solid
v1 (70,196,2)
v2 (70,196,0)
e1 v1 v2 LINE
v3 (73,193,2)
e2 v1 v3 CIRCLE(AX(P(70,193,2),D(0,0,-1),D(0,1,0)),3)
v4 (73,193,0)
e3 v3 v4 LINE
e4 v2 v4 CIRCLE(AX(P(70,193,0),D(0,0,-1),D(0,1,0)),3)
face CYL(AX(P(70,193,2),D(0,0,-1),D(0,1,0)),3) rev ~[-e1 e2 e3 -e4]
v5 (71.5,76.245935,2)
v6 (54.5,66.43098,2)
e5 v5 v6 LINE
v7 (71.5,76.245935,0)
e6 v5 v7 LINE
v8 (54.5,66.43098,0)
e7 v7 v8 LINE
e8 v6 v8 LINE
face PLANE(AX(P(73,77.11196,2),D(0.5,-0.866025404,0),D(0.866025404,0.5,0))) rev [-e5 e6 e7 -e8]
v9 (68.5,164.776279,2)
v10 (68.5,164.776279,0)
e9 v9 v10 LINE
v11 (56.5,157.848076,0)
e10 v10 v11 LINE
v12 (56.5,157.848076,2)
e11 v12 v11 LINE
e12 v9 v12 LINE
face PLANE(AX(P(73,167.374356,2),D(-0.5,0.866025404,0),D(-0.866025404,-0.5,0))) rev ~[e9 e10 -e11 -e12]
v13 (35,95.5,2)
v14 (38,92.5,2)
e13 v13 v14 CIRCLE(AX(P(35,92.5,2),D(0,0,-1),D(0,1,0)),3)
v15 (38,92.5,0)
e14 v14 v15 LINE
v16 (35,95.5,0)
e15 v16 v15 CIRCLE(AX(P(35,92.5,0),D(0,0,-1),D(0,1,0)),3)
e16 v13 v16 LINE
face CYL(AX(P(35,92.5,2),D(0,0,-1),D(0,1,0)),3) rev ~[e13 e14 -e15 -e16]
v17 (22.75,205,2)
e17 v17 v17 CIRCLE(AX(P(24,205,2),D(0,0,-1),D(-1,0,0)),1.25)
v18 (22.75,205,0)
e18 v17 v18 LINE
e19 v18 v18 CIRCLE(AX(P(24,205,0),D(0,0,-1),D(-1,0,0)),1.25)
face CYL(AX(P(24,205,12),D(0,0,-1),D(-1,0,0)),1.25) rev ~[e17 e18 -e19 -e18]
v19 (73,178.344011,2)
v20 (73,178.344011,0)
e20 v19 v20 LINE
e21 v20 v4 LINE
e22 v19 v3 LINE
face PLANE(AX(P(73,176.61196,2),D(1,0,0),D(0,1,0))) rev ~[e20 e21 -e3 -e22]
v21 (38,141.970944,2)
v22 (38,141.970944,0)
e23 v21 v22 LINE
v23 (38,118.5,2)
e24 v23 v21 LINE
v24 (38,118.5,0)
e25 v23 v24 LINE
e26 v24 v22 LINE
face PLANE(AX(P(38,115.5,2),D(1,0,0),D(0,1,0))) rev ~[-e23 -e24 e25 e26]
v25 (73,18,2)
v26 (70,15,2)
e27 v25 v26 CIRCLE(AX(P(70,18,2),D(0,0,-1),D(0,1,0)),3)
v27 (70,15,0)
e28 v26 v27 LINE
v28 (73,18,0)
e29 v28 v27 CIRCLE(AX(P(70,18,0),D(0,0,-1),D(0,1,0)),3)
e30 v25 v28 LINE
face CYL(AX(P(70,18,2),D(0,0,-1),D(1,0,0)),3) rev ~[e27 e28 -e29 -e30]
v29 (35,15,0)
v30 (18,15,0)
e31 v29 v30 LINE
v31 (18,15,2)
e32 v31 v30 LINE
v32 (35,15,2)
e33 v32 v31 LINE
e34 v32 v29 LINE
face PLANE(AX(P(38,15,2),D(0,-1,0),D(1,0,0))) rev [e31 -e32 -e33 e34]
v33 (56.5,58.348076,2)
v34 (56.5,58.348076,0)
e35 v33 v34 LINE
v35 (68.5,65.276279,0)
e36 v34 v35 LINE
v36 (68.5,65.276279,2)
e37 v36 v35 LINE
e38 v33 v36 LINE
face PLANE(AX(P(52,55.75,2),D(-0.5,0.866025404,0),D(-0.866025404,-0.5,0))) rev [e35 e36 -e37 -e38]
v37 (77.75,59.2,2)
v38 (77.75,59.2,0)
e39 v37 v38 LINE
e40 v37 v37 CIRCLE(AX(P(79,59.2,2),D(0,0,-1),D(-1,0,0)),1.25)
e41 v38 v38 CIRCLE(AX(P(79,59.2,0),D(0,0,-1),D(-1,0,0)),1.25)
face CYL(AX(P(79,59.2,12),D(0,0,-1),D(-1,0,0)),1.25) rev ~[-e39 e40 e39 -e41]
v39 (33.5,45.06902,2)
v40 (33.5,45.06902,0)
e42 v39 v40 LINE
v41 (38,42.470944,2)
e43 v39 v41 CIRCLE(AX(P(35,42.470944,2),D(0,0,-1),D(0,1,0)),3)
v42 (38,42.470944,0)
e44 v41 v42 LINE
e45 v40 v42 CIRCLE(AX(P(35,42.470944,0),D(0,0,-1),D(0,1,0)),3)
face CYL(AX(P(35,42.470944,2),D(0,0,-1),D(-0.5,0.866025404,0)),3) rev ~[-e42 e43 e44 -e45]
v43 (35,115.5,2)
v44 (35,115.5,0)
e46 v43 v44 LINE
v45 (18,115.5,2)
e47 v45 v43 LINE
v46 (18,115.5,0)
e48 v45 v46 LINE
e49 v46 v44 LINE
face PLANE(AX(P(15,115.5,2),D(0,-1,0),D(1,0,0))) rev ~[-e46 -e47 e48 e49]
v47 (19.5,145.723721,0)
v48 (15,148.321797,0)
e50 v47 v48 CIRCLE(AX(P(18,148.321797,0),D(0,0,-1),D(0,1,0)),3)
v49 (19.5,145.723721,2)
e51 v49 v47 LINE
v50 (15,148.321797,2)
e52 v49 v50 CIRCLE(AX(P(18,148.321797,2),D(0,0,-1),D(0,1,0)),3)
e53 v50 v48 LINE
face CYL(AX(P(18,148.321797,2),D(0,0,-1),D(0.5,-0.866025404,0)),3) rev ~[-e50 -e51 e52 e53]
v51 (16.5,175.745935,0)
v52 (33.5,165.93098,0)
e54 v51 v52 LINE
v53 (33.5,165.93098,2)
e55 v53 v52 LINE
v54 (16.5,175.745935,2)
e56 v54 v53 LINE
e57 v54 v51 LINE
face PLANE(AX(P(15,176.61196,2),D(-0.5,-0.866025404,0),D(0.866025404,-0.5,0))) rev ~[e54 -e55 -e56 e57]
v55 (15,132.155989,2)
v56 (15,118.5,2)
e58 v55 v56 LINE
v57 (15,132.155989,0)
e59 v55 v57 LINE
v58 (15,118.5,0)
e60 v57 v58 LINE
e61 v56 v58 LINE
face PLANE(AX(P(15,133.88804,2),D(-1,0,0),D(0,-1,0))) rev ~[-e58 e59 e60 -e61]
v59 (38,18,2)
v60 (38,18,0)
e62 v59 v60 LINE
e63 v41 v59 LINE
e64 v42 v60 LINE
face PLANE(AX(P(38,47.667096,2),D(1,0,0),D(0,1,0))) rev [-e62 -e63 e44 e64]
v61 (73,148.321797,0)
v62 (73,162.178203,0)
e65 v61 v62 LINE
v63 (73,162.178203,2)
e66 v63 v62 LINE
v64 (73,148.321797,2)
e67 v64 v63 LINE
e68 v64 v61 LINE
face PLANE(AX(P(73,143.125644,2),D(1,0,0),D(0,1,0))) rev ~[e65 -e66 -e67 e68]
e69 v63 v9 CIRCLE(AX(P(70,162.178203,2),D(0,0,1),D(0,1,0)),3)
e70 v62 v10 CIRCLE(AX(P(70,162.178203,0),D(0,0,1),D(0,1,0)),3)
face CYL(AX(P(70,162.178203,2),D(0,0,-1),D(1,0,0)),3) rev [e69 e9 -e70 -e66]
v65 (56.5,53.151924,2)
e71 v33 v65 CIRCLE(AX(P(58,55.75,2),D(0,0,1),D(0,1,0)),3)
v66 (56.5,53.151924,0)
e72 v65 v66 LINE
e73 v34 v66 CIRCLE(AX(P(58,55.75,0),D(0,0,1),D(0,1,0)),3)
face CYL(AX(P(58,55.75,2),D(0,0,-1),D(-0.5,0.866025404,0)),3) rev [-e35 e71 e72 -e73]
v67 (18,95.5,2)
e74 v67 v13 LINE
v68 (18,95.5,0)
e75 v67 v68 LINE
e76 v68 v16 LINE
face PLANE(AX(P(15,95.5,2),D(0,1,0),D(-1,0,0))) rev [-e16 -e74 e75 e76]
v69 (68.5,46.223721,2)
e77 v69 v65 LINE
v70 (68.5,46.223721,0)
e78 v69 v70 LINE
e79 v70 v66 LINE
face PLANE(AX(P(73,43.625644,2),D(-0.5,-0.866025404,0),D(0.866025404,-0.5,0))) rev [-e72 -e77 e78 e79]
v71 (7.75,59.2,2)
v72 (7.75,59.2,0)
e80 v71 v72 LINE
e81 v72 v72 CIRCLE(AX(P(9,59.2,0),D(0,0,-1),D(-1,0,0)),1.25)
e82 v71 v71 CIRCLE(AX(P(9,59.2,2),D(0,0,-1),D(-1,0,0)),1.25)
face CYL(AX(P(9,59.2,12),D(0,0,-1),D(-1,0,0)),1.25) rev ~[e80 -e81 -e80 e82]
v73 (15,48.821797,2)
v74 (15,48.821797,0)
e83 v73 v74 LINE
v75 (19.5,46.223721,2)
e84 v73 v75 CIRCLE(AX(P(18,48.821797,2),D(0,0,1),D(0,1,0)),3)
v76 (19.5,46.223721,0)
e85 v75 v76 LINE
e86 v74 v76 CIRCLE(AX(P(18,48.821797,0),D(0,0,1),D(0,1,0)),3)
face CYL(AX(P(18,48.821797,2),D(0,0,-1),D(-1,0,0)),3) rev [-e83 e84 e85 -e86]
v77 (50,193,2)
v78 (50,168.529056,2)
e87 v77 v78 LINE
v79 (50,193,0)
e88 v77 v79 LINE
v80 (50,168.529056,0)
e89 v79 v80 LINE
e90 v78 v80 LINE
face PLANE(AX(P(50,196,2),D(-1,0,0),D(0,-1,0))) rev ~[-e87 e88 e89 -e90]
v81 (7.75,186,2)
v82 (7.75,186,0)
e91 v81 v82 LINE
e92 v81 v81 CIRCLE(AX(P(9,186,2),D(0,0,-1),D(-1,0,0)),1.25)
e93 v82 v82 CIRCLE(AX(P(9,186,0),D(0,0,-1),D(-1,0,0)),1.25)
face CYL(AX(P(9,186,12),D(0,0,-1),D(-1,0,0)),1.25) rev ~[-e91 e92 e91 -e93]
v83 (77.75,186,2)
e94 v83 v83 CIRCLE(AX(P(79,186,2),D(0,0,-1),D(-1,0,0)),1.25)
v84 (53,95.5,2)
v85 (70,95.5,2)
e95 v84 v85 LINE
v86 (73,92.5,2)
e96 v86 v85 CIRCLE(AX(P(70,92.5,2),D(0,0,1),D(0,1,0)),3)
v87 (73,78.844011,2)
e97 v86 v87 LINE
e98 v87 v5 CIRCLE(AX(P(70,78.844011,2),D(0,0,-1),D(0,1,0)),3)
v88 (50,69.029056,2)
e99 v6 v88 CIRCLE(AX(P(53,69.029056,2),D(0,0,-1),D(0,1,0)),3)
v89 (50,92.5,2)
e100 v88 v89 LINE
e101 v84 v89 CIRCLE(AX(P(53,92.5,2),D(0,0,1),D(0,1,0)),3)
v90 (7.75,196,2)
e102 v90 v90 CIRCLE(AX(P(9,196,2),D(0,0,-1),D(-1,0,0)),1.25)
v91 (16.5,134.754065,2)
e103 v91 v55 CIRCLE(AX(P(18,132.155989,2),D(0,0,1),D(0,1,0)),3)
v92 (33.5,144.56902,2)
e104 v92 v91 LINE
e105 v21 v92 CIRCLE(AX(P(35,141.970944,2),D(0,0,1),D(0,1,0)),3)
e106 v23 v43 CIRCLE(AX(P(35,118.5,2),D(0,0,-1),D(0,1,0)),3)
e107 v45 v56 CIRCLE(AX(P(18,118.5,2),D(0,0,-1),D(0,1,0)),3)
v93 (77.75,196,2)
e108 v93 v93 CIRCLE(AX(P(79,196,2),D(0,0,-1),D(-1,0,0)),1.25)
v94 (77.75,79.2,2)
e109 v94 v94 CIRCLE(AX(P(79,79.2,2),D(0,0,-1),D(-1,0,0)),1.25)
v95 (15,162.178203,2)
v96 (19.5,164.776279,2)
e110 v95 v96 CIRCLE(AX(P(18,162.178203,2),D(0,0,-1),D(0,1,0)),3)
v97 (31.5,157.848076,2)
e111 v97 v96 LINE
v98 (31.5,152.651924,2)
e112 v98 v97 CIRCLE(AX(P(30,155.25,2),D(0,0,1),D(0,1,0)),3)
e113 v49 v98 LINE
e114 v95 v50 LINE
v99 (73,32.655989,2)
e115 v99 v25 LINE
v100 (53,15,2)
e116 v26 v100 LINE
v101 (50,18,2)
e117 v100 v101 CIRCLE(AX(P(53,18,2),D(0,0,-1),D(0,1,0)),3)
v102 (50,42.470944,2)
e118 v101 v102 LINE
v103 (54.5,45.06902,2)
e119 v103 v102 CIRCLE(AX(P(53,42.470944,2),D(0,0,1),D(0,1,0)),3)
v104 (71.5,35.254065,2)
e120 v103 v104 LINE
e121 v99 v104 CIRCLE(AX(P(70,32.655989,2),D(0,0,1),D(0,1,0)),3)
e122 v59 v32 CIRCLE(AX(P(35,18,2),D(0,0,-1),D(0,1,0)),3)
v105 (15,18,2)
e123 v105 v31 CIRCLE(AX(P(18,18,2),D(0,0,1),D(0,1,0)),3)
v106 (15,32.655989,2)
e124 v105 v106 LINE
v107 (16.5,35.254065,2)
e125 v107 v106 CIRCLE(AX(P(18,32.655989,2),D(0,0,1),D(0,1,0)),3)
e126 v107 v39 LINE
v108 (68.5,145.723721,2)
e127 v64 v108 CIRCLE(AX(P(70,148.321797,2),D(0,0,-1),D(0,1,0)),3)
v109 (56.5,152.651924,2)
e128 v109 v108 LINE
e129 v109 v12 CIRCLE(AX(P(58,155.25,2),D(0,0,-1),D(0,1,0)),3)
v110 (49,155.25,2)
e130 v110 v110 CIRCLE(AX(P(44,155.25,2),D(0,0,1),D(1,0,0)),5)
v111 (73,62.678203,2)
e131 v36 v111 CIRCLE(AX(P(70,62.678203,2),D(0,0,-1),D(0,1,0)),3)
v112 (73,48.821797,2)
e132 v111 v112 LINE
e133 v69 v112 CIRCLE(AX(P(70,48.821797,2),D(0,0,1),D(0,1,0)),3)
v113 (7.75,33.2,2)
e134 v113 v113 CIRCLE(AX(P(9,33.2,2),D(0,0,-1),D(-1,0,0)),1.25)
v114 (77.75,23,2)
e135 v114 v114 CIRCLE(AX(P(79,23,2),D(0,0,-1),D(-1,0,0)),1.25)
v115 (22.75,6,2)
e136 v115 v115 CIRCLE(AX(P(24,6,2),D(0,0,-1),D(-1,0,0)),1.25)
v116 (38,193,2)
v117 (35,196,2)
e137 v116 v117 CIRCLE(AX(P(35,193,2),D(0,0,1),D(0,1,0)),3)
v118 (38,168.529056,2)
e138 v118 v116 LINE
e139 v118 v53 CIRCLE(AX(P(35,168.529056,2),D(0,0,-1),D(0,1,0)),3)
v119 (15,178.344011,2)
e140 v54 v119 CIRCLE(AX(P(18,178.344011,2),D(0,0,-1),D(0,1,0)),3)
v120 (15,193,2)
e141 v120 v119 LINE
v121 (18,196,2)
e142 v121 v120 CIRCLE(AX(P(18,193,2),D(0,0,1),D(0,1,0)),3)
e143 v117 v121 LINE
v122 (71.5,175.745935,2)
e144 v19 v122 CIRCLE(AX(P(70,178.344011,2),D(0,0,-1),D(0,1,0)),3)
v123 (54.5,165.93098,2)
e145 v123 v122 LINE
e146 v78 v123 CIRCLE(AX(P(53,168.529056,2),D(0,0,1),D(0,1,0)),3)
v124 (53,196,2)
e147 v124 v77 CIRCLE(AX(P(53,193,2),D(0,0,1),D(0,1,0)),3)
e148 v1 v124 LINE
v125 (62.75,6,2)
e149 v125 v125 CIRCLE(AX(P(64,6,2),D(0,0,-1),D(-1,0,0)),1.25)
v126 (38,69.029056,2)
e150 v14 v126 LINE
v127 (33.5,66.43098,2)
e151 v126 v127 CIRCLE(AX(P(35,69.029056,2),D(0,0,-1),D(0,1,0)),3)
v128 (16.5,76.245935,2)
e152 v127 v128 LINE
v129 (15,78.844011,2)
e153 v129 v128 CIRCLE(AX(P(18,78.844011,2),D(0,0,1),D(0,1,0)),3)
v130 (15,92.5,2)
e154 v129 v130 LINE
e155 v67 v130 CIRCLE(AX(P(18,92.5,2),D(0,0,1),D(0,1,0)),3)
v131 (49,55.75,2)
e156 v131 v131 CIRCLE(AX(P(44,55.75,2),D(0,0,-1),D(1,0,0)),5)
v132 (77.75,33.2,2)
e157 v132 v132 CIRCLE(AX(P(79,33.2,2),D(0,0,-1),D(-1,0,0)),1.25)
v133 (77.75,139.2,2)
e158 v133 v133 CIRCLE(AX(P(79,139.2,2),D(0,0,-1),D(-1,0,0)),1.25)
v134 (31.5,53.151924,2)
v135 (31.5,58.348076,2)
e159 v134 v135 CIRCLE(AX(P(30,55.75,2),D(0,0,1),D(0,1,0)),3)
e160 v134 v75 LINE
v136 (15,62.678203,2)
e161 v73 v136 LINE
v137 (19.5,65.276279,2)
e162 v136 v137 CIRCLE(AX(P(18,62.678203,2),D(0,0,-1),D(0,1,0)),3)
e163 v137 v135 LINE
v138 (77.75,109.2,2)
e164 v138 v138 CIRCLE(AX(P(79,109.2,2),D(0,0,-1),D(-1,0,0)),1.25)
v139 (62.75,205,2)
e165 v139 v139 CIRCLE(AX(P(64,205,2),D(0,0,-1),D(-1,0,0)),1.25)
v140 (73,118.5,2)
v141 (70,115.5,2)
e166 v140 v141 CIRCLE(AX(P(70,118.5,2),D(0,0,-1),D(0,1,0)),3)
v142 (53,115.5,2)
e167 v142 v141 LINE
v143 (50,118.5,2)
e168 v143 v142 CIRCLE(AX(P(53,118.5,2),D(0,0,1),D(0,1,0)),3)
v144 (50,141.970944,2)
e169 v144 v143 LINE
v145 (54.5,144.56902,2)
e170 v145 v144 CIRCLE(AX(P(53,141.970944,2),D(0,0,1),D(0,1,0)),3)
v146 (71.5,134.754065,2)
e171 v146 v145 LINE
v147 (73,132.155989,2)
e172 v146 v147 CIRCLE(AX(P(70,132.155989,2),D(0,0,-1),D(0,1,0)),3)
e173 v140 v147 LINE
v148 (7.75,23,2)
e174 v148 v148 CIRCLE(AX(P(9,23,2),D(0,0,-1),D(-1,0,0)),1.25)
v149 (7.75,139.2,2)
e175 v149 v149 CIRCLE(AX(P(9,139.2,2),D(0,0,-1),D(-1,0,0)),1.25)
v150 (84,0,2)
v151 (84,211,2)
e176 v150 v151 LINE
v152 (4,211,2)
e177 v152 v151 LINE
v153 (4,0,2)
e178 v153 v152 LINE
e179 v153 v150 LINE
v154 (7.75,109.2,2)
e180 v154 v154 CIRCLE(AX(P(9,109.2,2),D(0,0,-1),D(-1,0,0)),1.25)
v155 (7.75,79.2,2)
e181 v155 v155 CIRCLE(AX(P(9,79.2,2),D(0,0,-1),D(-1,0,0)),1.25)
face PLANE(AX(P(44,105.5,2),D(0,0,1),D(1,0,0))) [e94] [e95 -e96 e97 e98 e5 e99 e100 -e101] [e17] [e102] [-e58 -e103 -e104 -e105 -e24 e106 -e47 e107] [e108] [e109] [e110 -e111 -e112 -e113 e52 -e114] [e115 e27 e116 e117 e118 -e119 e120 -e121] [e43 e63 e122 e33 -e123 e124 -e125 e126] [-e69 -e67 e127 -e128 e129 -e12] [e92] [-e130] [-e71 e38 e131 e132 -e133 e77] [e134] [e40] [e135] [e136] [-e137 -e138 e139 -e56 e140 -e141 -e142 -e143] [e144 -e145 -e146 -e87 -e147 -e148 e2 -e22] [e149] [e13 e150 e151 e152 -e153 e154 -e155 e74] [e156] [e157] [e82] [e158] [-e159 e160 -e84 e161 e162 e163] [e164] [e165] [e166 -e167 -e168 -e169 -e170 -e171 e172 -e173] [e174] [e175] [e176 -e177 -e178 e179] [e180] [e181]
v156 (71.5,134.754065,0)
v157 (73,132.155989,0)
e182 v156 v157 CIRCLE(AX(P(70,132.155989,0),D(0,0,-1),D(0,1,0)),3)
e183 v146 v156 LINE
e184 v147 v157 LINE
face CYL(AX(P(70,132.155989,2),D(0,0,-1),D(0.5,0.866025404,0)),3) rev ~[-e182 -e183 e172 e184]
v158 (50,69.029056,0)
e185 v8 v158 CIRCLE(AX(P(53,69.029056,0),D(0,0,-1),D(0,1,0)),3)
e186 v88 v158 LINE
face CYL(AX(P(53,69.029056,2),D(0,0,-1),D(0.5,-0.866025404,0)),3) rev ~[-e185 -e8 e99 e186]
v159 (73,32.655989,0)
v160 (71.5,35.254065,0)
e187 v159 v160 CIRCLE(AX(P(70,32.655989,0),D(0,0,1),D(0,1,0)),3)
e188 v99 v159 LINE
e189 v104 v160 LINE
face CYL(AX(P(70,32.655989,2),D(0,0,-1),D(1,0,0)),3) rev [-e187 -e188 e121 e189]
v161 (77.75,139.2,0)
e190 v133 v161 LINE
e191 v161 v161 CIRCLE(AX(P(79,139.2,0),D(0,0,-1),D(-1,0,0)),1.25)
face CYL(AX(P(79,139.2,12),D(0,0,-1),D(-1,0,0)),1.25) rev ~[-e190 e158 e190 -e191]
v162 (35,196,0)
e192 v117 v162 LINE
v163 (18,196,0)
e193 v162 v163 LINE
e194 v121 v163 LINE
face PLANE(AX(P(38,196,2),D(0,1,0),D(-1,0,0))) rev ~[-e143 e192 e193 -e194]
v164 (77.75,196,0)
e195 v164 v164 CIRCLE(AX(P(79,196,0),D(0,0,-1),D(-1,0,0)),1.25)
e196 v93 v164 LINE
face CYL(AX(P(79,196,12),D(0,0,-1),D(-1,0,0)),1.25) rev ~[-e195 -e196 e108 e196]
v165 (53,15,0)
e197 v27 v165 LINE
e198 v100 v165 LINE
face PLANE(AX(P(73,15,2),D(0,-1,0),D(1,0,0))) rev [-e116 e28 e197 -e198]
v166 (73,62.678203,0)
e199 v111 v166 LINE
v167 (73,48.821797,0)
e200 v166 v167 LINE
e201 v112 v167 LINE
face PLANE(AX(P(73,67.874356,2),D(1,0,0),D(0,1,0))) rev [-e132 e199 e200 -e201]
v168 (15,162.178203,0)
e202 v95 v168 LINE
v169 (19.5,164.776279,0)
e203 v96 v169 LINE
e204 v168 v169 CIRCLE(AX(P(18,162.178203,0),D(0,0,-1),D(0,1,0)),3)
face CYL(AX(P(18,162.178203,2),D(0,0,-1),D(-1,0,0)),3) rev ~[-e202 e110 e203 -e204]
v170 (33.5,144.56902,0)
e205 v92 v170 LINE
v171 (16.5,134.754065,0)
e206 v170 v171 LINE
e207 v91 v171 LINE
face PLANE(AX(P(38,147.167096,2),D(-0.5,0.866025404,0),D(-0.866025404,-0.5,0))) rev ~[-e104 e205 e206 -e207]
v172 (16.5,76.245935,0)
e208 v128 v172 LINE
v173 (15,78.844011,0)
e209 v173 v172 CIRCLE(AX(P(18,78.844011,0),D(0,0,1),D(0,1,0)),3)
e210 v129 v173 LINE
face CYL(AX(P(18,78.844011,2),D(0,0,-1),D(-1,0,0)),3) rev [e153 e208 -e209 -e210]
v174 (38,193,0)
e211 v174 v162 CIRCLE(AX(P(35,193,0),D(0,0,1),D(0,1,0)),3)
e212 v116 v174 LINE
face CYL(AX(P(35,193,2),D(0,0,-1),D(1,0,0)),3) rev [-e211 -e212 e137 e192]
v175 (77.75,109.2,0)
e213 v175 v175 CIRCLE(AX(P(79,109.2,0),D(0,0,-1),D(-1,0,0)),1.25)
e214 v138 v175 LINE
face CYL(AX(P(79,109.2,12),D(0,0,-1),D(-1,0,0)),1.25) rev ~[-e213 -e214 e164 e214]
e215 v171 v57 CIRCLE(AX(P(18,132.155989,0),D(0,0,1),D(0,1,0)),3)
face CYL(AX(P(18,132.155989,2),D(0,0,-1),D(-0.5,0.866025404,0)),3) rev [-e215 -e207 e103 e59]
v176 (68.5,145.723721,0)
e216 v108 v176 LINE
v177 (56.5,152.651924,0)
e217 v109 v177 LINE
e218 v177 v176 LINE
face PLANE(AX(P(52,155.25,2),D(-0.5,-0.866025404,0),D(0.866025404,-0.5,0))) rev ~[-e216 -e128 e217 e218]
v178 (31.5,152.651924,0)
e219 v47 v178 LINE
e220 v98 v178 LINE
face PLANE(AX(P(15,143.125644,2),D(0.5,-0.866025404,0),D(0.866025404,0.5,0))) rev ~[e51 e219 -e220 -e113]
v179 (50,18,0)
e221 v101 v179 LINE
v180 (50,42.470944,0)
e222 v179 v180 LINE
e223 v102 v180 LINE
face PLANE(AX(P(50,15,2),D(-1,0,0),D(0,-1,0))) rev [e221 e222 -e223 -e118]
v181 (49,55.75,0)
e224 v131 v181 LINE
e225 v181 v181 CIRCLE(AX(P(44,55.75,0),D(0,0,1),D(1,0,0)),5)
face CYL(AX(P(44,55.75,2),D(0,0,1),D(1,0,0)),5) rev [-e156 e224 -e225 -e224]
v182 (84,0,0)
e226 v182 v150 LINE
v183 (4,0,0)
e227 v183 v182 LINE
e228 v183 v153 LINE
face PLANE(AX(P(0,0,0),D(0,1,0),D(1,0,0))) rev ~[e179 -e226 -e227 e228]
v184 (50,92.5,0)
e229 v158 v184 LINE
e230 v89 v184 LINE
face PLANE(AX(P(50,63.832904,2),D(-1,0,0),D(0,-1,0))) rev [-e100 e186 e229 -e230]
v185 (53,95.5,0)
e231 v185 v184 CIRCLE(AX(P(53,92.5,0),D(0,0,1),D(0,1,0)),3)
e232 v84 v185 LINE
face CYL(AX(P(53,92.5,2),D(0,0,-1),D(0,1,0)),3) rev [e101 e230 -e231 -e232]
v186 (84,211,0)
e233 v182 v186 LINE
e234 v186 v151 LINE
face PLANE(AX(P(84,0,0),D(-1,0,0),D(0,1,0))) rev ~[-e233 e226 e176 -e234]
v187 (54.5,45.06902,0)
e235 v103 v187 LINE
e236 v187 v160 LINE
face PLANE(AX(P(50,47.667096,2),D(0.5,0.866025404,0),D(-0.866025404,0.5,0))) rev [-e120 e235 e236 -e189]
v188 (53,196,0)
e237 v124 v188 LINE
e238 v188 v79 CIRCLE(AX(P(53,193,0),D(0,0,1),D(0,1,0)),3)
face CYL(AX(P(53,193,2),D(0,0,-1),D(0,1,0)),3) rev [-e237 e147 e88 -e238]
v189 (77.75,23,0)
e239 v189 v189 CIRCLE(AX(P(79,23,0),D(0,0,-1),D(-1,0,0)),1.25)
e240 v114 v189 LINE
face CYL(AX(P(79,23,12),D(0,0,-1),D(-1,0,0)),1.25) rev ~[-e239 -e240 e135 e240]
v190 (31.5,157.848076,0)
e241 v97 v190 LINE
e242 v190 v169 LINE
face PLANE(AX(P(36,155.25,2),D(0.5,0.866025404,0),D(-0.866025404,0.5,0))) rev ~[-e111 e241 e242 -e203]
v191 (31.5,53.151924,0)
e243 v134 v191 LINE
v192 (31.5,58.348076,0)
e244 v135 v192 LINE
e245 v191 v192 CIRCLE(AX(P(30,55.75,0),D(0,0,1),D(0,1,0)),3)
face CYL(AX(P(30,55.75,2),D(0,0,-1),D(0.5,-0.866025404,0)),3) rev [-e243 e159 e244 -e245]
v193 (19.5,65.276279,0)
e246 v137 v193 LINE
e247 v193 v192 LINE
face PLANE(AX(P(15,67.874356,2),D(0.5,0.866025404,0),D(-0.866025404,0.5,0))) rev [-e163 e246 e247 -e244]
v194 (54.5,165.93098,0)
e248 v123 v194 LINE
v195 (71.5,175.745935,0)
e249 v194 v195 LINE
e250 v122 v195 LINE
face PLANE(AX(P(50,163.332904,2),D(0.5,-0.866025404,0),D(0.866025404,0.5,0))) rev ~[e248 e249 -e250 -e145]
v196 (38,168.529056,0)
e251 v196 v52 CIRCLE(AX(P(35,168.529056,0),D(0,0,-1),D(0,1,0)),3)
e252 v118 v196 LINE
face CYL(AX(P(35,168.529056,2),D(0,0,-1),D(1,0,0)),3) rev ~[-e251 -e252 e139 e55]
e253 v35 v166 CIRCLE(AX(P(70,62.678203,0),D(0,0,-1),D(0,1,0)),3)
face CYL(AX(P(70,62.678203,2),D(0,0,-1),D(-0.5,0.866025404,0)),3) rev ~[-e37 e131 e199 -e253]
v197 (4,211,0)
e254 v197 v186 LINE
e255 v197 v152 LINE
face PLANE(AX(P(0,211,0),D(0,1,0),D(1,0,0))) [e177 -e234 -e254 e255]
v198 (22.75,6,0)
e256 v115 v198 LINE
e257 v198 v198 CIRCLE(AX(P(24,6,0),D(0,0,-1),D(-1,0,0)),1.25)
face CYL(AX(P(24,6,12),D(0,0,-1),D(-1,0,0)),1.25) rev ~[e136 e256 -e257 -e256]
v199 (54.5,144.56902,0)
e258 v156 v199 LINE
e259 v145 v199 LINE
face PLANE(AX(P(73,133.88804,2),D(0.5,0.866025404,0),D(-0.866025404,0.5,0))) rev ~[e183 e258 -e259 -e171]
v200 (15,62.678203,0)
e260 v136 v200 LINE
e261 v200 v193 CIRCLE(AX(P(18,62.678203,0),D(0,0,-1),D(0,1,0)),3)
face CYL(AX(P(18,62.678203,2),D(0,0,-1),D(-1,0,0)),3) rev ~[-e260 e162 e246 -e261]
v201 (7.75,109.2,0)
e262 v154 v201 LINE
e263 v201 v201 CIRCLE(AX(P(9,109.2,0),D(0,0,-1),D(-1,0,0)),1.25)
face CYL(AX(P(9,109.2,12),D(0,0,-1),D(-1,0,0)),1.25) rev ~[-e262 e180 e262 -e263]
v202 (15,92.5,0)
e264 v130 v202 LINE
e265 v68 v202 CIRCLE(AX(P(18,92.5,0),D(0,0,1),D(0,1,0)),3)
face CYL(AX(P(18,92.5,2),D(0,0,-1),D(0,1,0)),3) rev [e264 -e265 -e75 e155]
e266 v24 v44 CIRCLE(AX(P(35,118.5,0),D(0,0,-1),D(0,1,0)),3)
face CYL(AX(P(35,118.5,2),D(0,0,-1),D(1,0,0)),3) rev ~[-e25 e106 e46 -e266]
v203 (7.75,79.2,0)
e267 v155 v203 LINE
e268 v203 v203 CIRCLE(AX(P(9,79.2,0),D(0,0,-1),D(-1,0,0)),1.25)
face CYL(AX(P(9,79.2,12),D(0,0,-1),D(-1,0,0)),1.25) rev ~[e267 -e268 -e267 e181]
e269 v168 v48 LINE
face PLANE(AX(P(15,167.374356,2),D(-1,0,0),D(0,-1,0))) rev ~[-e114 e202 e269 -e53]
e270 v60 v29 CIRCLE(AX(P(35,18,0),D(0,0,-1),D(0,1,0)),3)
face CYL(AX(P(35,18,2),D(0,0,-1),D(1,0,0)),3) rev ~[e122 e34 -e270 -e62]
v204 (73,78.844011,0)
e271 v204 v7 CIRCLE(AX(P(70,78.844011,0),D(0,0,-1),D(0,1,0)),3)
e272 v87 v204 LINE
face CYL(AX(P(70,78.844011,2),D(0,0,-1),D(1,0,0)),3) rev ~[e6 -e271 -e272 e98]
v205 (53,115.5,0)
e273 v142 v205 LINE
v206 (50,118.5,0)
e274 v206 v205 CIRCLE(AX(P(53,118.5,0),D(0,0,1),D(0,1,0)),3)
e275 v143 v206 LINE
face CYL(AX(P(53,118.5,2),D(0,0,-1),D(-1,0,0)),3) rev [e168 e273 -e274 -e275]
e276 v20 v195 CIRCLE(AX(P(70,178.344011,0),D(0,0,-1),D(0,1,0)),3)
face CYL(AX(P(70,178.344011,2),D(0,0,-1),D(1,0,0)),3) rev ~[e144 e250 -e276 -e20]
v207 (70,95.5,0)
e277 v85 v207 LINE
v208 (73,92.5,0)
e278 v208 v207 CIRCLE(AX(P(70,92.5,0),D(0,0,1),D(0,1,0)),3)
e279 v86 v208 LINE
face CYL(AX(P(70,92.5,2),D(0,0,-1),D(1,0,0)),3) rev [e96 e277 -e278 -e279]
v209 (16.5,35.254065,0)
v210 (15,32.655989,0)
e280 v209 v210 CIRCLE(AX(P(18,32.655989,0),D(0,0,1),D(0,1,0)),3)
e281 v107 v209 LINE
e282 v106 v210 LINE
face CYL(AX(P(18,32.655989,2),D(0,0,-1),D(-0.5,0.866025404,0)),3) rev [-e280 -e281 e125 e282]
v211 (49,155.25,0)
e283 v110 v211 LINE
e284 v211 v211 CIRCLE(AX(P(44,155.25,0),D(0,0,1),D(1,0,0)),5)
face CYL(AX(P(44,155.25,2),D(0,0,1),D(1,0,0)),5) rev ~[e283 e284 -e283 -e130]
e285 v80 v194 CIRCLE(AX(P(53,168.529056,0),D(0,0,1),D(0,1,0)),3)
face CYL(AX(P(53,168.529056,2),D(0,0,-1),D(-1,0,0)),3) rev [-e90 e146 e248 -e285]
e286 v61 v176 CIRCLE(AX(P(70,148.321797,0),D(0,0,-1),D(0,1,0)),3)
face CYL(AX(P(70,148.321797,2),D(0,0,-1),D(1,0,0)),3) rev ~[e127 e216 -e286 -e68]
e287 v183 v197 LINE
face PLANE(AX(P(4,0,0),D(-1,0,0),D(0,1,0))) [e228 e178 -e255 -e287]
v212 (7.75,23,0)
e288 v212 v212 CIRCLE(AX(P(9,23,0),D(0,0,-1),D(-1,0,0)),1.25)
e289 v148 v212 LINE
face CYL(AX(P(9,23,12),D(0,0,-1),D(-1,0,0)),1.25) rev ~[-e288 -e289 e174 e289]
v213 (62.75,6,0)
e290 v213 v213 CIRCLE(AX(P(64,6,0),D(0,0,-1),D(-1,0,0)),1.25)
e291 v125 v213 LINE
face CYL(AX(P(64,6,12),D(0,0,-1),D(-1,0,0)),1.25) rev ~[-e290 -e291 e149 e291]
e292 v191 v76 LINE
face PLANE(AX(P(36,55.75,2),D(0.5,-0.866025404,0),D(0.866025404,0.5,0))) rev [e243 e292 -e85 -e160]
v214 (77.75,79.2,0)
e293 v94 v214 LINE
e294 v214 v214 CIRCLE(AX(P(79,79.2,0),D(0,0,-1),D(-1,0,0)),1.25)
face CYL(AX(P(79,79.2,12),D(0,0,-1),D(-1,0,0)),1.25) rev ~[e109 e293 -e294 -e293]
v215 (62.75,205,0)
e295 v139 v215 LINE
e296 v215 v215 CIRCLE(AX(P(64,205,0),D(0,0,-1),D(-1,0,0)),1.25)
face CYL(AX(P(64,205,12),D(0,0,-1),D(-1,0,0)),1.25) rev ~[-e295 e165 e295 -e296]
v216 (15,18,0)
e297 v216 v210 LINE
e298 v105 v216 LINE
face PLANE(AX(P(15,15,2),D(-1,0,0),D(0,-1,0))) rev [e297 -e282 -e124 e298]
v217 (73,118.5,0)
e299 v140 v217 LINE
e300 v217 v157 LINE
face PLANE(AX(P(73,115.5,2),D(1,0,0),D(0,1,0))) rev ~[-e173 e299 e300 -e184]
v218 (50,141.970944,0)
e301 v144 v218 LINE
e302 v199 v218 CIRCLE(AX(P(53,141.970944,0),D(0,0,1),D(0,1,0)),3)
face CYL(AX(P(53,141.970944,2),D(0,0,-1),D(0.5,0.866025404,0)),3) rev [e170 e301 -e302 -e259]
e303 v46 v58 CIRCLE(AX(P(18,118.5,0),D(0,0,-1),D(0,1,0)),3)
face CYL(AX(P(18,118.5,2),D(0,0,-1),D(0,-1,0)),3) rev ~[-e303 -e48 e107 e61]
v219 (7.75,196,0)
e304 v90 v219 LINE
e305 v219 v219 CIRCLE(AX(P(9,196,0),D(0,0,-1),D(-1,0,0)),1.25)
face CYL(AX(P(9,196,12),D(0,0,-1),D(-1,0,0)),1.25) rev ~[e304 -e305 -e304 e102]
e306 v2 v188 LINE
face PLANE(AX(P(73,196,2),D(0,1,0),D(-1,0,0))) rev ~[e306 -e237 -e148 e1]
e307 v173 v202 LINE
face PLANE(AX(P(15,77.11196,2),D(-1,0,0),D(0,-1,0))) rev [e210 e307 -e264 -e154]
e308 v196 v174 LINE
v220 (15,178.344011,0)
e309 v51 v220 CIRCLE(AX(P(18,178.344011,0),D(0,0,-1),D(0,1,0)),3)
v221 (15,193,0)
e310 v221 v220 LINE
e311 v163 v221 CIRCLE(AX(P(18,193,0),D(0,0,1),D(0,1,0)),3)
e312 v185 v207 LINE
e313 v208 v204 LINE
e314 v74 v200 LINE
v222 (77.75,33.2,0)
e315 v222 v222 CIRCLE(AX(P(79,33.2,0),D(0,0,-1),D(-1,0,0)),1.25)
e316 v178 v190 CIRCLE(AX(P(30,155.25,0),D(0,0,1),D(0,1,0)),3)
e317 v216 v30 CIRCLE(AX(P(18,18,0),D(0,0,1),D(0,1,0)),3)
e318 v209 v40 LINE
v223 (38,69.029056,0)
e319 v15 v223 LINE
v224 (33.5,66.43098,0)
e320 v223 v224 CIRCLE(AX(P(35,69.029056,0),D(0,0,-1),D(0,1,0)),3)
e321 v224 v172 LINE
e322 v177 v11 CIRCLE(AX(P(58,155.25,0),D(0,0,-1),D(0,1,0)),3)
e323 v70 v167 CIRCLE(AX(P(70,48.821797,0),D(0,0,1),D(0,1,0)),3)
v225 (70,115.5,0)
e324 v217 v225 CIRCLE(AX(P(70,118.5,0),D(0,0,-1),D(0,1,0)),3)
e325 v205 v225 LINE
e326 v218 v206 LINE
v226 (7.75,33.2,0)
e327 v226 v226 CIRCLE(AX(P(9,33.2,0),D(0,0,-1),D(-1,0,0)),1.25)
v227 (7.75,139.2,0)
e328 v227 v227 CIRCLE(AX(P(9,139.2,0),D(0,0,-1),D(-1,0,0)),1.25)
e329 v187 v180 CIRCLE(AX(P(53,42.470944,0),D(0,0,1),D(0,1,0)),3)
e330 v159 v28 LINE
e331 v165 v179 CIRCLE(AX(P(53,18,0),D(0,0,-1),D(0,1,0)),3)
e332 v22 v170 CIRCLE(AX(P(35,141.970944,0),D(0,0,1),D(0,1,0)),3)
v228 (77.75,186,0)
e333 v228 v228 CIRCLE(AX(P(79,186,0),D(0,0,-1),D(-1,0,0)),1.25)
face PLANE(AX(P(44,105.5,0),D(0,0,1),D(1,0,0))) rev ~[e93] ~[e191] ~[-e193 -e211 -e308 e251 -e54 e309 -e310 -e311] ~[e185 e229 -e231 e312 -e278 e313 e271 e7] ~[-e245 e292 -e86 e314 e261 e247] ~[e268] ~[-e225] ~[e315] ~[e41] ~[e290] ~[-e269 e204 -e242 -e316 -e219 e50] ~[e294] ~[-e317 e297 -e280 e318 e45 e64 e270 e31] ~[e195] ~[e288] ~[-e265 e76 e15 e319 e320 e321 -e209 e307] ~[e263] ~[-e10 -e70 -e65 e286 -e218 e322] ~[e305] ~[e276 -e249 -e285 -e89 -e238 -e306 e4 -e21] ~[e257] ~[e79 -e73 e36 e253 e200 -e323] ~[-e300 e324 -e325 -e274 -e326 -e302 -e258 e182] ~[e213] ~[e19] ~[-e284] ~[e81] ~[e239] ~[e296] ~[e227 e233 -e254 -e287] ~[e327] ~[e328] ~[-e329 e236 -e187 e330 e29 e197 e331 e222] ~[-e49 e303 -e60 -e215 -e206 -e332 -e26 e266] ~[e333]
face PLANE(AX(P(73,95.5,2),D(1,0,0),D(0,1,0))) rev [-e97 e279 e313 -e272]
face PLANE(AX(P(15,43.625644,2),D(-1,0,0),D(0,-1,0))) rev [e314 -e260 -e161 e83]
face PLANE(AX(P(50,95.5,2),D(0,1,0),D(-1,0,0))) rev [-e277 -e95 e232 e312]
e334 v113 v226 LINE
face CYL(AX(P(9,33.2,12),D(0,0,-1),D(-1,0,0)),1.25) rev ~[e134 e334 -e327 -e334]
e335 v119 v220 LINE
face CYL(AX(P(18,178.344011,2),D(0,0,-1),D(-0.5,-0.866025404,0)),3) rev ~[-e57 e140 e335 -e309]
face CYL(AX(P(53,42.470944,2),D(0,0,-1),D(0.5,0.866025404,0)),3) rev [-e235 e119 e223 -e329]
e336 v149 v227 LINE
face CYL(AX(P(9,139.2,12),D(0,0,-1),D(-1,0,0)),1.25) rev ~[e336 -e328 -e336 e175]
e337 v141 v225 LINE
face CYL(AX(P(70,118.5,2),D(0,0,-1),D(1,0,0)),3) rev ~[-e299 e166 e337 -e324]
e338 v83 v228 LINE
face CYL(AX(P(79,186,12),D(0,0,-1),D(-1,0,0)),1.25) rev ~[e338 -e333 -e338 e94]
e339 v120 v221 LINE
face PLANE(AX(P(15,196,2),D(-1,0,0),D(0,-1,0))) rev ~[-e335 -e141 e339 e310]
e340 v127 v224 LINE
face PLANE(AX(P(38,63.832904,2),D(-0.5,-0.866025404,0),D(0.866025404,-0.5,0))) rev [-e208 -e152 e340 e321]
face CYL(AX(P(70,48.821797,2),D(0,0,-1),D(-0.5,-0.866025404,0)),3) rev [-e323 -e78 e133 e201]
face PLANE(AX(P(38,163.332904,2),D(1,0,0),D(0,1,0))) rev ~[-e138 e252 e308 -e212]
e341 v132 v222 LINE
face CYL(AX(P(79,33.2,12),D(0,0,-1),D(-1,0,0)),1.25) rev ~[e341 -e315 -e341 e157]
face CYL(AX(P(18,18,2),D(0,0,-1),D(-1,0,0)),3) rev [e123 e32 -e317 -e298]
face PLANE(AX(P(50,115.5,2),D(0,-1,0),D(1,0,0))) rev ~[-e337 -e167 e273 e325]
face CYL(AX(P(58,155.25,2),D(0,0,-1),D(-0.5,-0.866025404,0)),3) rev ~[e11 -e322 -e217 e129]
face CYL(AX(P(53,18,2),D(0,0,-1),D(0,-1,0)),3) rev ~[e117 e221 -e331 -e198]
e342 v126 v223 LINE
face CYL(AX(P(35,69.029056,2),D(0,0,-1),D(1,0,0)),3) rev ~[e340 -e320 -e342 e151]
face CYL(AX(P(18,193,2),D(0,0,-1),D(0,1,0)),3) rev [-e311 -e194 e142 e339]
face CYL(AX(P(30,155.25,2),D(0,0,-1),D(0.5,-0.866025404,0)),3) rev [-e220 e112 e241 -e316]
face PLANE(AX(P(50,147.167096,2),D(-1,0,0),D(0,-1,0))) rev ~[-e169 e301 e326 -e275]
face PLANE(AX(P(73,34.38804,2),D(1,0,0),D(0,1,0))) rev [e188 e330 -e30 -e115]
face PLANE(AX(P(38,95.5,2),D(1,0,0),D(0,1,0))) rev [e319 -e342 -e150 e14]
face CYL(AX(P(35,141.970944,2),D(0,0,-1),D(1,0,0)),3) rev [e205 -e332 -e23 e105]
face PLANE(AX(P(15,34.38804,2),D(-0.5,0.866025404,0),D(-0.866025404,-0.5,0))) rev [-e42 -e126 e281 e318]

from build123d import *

# Parameters (mm, degrees)
SKETCH1_W                 = 88
SKETCH1_H                 = 211
BOSS_EXTRUDE1_DEPTH       = 2
CUT_EXTRUDE2_DEPTH        = 2
SKETCH4_R                 = 5
CUT_EXTRUDE3_DEPTH        = 3
FILLET2_R                 = 3
SKETCH23_W                = 2
SKETCH23_H                = 211
SKETCH23_W_2              = 2.150374681
CUT_EXTRUDE5_DEPTH        = 10
SKETCH29_W                = 5.911493913
SKETCH29_H                = 211
SKETCH29_W_2              = 4.036537762
CUT_EXTRUDE10_DEPTH       = 2
M3X0_5_TAPPED_HOLE1_D     = 2.5
M3X0_5_TAPPED_HOLE1_DEPTH = 10
M3X0_5_TAPPED_HOLE1_TIP   = 0.751075774


with BuildPart() as part:
    # Sketch1 → Boss-Extrude1 (new body)
    with BuildSketch(Plane.XY):
        with Locations((44, 105.5)):
            Rectangle(SKETCH1_W, SKETCH1_H)
    extrude(amount=BOSS_EXTRUDE1_DEPTH)

    # Sketch3 → Cut-Extrude2 (cut)
    with BuildSketch(Plane.XY.offset(2)):
        Polygon((73, 133.88804004), (50, 147.167096231), (50, 115.5), (73, 115.5), align=None)
        Polygon((38, 115.5), (38, 147.167096231), (15, 133.88804004), (15, 115.5), align=None)
        Polygon((15, 143.125644347), (36, 155.25), (15, 167.374355653), align=None)
        Polygon((73, 143.125644347), (73, 167.374355653), (52, 155.25), align=None)
        Polygon((73, 196), (50, 196), (50, 163.332903769), (73, 176.61195996), align=None)
        Polygon((38, 163.332903769), (38, 196), (15, 196), (15, 176.61195996), align=None)
    cut_extrude2 = extrude(amount=-CUT_EXTRUDE2_DEPTH, mode=Mode.SUBTRACT)

    # Sketch4 → Cut-Extrude3 (cut, through all)
    with BuildSketch(Plane.XY.offset(2)):
        with Locations((44, 155.25)):
            Circle(SKETCH4_R)
    cut_extrude3 = extrude(amount=-CUT_EXTRUDE3_DEPTH, mode=Mode.SUBTRACT)

    # Mirror2: Cut-Extrude2, Cut-Extrude3 across plane
    add(cut_extrude2.mirror(Plane.ZX.offset(105.5)), mode=Mode.SUBTRACT)
    add(cut_extrude3.mirror(Plane.ZX.offset(105.5)), mode=Mode.SUBTRACT)

    # Fillet2
    fillet2_edges = [part.edges().sort_by_distance(p)[0] for p in [
        (36, 55.75, 1),
        (15, 43.625644347, 1),
        (15, 67.874355653, 1),
        (38, 95.5, 1),
        (38, 63.832903769, 1),
        (15, 77.11195996, 1),
        (15, 95.5, 1),
        (73, 15, 1),
        (50, 15, 1),
        (50, 47.667096231, 1),
        (73, 34.38804004, 1),
        (73, 43.625644347, 1),
        (52, 55.75, 1),
        (73, 67.874355653, 1),
        (15, 15, 1),
        (15, 34.38804004, 1),
        (38, 47.667096231, 1),
        (38, 15, 1),
        (73, 77.11195996, 1),
        (50, 63.832903769, 1),
        (50, 95.5, 1),
        (73, 95.5, 1),
        (15, 167.374355653, 1),
        (36, 155.25, 1),
        (15, 143.125644347, 1),
        (38, 147.167096231, 1),
        (38, 115.5, 1),
        (15, 115.5, 1),
        (15, 133.88804004, 1),
        (50, 196, 1),
        (73, 196, 1),
        (73, 176.61195996, 1),
        (50, 163.332903769, 1),
        (52, 155.25, 1),
        (73, 167.374355653, 1),
        (73, 143.125644347, 1),
        (15, 176.61195996, 1),
        (15, 196, 1),
        (38, 196, 1),
        (38, 163.332903769, 1),
        (50, 147.167096231, 1),
        (73, 133.88804004, 1),
        (73, 115.5, 1),
        (50, 115.5, 1),
    ]]
    fillet(fillet2_edges, radius=FILLET2_R)

    # Sketch23 → Cut-Extrude5 (cut)
    with BuildSketch(Plane.XY.offset(2)):
        with Locations((87, 105.5)):
            Rectangle(SKETCH23_W, SKETCH23_H)
        with Locations((1.075187341, 105.5)):
            Rectangle(SKETCH23_W_2, SKETCH23_H)
    extrude(amount=-CUT_EXTRUDE5_DEPTH, mode=Mode.SUBTRACT)

    # Sketch29 → Cut-Extrude10 (cut)
    with BuildSketch(Plane(origin=(0, 0, 0), x_dir=(-1, 0, 0), z_dir=(0, 0, -1))):
        with Locations((-1.044253043, 105.5)):
            Rectangle(SKETCH29_W, SKETCH29_H)
        with Locations((-86.018268881, 105.5)):
            Rectangle(SKETCH29_W_2, SKETCH29_H)
    extrude(amount=-CUT_EXTRUDE10_DEPTH, mode=Mode.SUBTRACT)

    # M3x0.5 Tapped Hole1
    with Locations(Plane.XY.offset(2)):
        with Locations((9, 186), (9, 139.2), (9, 109.2), (9, 79.2), (9, 59.2), (9, 33.2), (79, 186), (79, 139.2), (79, 109.2), (79, 79.2), (79, 59.2), (79, 33.2), (24, 6), (64, 6), (24, 205), (64, 205), (9, 196), (79, 196), (9, 23), (79, 23)):
            Hole(M3X0_5_TAPPED_HOLE1_D / 2, depth=M3X0_5_TAPPED_HOLE1_DEPTH)
            with Locations((0, 0, -(M3X0_5_TAPPED_HOLE1_DEPTH + M3X0_5_TAPPED_HOLE1_TIP / 2))):  # 118° drill point
                Cone(0, M3X0_5_TAPPED_HOLE1_D / 2, M3X0_5_TAPPED_HOLE1_TIP, mode=Mode.SUBTRACT)


solid = part.part
